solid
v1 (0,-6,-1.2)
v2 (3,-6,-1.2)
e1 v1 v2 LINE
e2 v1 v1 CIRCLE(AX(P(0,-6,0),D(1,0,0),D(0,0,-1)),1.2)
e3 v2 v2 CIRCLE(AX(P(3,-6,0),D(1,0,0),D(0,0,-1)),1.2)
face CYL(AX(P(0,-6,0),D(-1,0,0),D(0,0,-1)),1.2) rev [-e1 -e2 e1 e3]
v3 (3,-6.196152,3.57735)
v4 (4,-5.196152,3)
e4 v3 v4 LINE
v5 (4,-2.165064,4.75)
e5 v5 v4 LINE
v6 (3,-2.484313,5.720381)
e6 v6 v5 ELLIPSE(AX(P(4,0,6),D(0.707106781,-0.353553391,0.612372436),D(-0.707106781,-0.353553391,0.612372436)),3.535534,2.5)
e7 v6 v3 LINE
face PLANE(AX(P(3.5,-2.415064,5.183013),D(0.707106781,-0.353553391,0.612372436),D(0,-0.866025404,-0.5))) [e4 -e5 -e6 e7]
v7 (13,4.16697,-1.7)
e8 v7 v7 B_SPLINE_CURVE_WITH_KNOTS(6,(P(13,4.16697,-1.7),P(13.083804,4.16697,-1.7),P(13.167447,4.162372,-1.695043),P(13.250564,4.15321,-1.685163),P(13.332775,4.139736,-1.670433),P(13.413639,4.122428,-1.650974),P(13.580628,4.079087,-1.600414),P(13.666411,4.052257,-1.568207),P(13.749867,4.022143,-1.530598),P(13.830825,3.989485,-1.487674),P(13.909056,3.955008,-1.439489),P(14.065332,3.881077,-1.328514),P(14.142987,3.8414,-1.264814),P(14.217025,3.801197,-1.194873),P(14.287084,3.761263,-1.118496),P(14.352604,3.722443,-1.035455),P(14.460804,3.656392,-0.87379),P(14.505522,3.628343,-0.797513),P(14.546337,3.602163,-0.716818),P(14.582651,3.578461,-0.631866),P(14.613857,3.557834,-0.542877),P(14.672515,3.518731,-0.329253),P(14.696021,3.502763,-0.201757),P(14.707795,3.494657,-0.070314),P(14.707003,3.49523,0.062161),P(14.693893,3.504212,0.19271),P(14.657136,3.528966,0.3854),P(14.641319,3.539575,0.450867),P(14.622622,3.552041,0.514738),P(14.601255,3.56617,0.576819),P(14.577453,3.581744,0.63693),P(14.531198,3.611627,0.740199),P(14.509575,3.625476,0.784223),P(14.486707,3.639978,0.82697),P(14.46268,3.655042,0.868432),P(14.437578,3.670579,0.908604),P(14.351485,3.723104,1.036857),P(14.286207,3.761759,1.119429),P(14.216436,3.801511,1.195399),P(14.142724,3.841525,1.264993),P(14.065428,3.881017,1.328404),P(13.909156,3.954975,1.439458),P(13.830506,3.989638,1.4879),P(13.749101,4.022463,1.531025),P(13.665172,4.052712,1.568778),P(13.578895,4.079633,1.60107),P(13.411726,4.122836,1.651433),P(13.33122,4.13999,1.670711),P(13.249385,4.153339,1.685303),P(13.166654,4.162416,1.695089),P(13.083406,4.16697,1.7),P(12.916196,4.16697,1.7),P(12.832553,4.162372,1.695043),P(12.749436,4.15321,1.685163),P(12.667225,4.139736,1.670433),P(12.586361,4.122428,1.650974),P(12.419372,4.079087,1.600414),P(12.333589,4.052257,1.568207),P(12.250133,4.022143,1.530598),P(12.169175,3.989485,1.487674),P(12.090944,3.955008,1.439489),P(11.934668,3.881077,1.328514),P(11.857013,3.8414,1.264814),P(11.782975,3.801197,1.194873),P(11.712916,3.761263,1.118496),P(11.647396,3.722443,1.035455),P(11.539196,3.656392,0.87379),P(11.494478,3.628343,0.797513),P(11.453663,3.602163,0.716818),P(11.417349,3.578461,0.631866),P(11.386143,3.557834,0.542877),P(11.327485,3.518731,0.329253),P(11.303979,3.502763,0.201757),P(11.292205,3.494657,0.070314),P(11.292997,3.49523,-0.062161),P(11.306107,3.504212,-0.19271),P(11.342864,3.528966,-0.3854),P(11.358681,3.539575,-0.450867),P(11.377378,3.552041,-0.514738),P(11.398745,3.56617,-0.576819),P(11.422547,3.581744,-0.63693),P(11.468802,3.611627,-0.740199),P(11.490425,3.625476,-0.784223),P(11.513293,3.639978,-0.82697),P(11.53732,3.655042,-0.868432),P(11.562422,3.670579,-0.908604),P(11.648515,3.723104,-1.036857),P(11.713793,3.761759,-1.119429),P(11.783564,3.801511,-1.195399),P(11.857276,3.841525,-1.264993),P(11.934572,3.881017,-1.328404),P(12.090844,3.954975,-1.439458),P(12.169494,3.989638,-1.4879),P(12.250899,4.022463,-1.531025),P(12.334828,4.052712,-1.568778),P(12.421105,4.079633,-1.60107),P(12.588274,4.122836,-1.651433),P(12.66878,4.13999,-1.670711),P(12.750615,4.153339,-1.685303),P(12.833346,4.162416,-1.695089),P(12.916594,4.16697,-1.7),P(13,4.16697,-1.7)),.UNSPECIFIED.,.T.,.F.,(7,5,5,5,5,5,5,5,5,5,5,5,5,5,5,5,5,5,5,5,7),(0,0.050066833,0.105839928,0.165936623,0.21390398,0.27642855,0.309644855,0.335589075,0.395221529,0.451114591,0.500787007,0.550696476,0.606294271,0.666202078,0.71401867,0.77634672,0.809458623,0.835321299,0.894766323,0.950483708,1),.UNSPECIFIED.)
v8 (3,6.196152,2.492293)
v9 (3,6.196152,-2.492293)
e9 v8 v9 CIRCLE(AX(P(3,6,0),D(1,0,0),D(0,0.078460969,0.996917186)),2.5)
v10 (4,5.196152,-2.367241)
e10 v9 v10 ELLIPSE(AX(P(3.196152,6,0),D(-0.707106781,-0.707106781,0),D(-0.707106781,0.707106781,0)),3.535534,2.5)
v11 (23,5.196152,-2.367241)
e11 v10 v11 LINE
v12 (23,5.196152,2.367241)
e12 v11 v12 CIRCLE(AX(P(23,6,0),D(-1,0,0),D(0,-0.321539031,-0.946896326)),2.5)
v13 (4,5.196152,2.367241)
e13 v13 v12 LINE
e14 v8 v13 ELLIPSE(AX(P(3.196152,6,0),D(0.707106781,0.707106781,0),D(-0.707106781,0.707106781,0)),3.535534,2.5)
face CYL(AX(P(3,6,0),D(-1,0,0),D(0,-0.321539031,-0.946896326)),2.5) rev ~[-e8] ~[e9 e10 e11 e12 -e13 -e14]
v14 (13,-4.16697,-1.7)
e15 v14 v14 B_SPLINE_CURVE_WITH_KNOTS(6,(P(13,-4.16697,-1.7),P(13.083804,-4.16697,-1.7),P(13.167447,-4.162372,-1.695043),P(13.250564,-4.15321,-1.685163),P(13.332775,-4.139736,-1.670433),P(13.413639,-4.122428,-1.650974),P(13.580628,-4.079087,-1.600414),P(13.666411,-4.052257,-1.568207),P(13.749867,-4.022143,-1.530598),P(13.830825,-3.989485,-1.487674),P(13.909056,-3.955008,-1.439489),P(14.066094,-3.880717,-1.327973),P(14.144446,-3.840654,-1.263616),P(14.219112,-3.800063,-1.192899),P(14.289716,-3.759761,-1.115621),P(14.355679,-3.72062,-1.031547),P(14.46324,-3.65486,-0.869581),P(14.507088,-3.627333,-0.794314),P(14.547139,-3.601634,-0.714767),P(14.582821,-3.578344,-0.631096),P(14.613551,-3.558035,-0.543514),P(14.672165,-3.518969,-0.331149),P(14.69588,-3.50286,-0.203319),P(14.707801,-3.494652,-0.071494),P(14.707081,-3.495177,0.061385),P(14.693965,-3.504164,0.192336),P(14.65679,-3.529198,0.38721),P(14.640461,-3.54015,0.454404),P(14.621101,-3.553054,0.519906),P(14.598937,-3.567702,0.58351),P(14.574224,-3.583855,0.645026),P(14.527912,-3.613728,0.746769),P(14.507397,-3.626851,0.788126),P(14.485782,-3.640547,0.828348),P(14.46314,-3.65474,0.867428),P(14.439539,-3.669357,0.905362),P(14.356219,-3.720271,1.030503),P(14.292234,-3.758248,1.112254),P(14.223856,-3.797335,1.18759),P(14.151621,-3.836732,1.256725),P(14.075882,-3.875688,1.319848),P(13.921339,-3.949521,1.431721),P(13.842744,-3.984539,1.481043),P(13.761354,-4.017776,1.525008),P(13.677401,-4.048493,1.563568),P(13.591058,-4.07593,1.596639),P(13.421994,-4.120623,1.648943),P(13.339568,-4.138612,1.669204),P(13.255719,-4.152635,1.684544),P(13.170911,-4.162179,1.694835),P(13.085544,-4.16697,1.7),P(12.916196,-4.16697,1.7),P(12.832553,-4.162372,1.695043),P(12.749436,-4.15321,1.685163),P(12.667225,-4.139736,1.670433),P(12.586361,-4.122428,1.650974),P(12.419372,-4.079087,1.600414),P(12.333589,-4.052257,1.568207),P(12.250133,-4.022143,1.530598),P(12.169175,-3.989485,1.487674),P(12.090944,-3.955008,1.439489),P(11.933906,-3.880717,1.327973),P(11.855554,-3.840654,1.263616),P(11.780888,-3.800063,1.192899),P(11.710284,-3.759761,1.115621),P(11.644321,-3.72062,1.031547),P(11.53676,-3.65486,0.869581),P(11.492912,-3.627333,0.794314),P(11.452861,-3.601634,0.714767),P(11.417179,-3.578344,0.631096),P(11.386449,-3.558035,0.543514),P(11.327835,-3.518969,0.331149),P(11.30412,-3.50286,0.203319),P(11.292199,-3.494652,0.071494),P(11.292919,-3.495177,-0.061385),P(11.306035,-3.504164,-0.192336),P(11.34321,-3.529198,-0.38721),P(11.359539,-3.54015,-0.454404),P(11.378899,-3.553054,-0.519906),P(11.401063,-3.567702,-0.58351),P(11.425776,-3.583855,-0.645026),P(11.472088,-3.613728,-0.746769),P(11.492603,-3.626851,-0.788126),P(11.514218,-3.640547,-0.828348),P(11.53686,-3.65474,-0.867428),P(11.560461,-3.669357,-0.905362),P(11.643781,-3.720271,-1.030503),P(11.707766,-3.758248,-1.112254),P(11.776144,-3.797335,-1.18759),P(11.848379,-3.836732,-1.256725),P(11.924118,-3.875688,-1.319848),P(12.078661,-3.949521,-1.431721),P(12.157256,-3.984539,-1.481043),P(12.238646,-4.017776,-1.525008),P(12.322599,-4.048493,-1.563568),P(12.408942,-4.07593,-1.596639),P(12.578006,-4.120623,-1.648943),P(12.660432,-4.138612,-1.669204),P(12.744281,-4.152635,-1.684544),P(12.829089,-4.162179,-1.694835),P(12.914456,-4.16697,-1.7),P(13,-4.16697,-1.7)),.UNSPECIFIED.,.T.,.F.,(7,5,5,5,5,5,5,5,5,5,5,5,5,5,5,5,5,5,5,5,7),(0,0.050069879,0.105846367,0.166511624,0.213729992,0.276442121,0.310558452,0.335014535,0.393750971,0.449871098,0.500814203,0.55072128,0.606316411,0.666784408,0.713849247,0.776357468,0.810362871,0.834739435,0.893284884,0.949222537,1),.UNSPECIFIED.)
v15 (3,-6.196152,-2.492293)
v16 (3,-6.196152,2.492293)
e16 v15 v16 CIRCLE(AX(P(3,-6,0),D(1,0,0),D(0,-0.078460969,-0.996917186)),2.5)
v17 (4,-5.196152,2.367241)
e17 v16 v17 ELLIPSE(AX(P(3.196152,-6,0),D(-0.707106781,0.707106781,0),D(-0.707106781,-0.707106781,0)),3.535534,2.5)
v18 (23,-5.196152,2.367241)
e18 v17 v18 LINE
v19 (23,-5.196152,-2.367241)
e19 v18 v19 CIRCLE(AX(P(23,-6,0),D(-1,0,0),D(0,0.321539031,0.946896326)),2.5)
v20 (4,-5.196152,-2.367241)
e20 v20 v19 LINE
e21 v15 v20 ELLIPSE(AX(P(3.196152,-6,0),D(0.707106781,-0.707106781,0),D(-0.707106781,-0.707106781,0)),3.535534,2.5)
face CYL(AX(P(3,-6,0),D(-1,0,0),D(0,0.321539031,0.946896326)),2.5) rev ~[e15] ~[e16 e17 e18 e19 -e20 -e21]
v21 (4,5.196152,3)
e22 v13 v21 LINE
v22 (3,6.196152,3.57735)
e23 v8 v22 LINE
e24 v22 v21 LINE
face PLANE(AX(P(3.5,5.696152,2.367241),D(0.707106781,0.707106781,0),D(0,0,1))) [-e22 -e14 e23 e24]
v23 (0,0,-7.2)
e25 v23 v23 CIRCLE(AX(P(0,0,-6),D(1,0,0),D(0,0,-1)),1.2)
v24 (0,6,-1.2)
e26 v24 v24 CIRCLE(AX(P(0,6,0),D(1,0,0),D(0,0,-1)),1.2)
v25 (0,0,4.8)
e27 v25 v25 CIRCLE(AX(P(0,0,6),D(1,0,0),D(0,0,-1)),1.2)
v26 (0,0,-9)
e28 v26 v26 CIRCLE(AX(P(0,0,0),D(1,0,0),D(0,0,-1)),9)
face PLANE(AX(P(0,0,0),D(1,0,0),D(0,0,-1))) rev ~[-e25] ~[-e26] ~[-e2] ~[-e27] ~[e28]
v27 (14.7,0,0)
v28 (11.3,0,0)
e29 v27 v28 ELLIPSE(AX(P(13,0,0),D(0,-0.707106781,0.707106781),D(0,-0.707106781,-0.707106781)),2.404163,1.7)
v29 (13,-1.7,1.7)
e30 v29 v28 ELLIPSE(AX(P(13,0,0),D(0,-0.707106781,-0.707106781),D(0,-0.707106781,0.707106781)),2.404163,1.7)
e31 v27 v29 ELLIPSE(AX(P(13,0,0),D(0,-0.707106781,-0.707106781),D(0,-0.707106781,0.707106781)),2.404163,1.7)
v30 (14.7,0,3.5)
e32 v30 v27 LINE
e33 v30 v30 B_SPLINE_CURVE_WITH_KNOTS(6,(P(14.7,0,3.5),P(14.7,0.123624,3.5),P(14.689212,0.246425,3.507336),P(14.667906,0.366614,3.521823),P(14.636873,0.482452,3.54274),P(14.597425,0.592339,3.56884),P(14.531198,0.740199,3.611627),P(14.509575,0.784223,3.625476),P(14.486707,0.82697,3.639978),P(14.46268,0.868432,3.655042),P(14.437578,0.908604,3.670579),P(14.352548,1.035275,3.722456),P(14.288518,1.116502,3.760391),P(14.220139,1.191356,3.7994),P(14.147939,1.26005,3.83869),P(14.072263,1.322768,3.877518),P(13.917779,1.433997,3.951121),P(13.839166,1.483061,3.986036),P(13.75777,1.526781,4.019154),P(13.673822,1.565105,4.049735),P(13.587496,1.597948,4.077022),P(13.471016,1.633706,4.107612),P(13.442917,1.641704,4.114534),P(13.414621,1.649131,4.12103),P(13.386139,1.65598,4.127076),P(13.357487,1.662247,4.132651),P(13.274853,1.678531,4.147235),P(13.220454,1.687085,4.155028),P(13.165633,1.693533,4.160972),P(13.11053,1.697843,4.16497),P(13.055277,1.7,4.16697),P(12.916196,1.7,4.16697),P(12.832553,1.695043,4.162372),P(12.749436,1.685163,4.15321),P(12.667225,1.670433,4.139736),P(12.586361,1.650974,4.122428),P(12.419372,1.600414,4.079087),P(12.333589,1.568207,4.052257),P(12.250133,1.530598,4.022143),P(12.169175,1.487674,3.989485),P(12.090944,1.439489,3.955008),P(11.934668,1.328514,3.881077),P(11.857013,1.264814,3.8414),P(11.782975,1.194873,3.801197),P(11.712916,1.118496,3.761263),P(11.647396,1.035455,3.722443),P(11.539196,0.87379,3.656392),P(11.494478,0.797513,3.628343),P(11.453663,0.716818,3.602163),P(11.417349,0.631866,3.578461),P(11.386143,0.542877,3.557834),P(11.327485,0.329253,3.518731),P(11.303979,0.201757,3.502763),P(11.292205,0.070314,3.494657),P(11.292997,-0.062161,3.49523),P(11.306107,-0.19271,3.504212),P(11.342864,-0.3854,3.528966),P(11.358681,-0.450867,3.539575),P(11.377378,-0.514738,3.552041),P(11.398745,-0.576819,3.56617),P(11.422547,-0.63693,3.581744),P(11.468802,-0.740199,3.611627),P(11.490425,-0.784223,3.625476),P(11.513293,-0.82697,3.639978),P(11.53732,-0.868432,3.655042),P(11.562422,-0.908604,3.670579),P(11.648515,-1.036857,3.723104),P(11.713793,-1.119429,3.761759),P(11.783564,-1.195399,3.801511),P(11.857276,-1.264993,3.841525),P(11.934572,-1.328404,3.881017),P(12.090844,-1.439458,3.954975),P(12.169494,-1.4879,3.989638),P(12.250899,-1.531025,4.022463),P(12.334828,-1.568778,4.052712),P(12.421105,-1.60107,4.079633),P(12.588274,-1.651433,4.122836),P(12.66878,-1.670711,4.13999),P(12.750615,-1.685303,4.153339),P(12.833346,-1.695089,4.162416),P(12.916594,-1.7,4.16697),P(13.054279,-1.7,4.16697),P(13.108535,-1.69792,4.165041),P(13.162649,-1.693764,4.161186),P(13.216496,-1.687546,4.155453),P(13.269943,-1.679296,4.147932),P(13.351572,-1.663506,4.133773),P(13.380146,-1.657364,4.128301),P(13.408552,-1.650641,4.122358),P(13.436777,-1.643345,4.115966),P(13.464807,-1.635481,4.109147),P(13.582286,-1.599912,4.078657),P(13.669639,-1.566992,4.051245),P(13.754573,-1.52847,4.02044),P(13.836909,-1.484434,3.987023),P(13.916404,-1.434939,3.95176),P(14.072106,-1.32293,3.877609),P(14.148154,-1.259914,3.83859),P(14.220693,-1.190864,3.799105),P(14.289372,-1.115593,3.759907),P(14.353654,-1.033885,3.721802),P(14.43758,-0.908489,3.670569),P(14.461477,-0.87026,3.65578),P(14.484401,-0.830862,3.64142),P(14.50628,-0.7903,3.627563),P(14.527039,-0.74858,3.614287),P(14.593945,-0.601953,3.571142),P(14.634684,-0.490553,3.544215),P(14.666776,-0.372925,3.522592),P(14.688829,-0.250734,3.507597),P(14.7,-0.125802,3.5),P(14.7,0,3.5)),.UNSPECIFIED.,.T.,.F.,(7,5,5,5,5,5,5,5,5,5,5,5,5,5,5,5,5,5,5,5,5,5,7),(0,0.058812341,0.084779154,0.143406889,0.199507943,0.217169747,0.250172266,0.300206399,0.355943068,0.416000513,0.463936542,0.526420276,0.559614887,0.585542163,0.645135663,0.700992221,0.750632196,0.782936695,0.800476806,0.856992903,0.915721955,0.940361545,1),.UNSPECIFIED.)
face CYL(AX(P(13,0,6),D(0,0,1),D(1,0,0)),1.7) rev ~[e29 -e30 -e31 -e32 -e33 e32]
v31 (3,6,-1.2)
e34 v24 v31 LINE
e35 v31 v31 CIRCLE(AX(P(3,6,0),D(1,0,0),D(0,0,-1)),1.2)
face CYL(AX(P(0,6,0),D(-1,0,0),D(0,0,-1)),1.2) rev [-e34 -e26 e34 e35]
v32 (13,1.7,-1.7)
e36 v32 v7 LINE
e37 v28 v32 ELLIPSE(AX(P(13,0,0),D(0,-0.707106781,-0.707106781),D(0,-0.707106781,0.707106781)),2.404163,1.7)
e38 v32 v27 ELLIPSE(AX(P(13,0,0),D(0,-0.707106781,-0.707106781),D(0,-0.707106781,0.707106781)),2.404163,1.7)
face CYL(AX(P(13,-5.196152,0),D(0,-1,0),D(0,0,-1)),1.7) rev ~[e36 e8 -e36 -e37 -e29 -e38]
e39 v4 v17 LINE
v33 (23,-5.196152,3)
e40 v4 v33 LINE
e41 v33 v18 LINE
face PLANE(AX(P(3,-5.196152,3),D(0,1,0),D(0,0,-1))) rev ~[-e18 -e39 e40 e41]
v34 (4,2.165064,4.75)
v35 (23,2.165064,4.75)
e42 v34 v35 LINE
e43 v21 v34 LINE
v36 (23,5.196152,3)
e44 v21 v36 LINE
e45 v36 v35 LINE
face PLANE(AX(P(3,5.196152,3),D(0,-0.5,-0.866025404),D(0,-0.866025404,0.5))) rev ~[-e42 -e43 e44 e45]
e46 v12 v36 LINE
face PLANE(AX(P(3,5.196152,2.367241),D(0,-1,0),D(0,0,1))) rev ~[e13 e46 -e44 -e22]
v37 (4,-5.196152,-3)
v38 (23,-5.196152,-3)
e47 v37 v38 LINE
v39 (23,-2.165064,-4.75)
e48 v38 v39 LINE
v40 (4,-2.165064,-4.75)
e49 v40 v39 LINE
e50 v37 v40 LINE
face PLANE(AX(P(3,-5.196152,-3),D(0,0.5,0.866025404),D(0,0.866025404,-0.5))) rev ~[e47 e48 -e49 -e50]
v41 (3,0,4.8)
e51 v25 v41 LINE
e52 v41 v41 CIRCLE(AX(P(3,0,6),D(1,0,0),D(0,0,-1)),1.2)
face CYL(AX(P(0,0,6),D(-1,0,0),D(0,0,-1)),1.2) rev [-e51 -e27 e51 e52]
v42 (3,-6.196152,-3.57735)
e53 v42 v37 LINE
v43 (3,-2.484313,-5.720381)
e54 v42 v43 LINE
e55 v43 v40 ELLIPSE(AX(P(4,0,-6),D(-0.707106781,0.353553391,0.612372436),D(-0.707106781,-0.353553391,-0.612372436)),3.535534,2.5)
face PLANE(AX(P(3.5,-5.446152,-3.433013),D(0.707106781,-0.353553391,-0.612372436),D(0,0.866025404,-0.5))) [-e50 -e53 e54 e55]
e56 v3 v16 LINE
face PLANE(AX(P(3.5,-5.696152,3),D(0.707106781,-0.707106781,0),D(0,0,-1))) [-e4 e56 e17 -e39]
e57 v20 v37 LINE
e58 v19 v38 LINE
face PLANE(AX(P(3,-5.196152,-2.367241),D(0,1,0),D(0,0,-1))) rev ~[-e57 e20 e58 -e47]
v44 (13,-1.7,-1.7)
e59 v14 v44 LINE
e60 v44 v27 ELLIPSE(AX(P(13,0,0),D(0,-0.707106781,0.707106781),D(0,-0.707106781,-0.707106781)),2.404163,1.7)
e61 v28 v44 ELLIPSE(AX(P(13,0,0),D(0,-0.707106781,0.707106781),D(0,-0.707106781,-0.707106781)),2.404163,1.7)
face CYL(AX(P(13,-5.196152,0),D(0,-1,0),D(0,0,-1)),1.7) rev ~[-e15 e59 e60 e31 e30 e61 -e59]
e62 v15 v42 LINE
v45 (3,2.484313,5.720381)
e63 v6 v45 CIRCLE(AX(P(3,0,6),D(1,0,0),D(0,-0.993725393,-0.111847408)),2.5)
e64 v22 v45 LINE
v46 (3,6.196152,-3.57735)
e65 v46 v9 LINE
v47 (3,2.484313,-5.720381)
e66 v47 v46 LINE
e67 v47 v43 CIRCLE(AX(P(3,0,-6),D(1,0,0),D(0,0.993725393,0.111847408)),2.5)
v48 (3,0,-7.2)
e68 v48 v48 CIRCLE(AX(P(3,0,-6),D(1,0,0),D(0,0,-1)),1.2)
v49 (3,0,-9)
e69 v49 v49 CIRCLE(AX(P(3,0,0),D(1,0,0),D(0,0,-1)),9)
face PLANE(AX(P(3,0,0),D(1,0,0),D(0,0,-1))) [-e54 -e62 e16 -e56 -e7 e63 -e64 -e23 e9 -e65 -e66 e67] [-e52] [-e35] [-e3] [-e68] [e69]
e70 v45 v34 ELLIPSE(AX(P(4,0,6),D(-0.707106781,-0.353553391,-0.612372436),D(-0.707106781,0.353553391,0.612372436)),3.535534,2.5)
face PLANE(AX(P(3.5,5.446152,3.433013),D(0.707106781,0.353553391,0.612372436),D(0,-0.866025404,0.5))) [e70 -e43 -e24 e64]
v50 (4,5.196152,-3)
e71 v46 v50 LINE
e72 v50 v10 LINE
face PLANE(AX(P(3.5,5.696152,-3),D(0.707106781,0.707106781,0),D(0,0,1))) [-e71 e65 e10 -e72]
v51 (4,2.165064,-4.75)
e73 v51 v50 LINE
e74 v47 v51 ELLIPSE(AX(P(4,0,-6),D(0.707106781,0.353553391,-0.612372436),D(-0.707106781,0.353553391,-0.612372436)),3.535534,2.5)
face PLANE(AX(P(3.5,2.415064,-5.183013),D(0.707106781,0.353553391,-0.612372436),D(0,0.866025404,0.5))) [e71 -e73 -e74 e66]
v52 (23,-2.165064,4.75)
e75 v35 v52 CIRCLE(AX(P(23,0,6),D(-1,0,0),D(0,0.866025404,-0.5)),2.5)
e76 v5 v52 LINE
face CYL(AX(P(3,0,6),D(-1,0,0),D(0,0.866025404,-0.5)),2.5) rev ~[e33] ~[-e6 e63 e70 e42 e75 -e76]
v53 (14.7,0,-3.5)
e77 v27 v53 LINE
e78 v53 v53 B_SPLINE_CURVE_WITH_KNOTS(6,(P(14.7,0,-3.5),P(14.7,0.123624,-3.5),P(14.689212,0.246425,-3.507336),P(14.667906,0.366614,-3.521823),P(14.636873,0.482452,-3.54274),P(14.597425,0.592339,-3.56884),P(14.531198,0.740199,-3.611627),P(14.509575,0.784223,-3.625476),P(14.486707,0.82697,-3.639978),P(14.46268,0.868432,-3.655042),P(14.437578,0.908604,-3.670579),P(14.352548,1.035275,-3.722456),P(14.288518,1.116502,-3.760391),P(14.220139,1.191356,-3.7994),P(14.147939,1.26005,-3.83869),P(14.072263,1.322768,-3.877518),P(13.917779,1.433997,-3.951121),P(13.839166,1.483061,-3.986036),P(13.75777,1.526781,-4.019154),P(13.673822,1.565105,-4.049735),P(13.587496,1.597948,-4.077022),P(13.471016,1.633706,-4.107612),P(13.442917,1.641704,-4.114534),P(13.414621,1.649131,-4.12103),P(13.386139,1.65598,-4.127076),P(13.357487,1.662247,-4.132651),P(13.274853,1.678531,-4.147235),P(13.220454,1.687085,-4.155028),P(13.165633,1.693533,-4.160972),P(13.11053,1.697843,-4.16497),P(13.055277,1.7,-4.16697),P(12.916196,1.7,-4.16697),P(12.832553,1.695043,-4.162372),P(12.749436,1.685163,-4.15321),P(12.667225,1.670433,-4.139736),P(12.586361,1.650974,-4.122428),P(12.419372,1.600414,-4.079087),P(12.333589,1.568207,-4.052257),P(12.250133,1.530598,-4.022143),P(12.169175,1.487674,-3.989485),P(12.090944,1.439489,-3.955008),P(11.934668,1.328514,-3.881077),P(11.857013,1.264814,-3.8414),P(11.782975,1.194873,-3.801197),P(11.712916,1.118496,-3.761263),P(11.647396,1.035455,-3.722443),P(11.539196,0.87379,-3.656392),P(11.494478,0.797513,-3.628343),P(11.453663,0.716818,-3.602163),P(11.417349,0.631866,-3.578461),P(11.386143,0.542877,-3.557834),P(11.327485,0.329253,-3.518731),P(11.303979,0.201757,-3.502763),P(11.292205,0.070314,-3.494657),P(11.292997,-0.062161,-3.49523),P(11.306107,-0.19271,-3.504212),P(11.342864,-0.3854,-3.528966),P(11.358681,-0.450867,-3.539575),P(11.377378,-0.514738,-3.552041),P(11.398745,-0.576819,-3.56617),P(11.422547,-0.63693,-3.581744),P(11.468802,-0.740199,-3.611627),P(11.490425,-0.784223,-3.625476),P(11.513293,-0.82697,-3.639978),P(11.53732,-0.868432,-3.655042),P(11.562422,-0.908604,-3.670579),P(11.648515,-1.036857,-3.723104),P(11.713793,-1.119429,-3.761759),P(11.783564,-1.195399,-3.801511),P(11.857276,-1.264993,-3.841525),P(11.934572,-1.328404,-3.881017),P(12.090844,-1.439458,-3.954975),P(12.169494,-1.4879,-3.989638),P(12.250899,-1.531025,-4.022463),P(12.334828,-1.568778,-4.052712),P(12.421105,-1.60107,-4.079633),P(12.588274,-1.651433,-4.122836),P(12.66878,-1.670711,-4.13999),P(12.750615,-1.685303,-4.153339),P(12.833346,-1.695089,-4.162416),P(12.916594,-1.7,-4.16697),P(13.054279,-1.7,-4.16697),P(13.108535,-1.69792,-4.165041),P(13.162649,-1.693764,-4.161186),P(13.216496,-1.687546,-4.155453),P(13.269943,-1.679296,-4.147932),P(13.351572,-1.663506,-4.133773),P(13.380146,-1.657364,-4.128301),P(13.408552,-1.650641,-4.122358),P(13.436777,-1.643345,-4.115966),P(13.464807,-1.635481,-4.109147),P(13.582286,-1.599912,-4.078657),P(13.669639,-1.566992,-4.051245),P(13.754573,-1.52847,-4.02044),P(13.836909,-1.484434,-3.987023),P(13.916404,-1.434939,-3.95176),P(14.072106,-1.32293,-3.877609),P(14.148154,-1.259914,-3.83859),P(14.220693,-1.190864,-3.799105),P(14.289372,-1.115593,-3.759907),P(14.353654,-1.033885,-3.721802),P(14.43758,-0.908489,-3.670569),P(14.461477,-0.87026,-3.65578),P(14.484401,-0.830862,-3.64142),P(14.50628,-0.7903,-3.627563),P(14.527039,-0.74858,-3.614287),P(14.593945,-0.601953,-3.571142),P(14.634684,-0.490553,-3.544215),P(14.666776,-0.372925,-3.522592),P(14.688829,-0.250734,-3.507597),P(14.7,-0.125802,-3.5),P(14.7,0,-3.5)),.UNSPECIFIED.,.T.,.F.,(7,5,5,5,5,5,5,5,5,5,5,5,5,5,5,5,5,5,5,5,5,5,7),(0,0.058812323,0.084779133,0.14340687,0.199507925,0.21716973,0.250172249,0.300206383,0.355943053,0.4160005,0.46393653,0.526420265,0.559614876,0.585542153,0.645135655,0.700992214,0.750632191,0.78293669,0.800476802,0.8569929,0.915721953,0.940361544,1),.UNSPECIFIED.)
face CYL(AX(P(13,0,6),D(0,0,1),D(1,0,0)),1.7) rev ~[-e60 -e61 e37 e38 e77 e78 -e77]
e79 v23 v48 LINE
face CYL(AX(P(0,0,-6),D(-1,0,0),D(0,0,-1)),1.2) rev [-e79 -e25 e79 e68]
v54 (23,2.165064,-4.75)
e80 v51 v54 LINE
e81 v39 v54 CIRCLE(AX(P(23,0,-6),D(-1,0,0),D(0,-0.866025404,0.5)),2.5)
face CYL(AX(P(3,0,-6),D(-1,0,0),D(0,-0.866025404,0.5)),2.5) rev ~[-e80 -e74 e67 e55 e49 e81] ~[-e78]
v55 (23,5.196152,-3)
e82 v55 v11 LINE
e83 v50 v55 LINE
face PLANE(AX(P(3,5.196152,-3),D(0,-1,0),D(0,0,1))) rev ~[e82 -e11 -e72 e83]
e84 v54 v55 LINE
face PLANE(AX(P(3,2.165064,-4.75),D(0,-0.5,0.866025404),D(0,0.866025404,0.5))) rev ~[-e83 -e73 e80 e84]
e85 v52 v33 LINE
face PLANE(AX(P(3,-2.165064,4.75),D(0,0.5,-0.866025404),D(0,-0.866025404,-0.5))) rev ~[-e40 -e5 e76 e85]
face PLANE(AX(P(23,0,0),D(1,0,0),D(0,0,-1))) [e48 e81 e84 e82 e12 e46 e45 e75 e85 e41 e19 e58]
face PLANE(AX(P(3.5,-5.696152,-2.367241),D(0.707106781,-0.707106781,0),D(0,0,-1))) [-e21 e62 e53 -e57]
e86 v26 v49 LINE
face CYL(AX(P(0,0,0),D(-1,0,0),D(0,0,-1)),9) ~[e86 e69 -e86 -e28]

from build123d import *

# Parameters (mm, degrees)
SKETCH1_R           = 9
SKETCH1_R_2         = 1.2
BOSS_EXTRUDE1_DEPTH = 3
BOSS_EXTRUDE2_DEPTH = 20
CHAMFER1_SIZE       = 1
SKETCH4_R           = 1.7
CUT_EXTRUDE1_DEPTH  = 29.487378672
SKETCH5_R           = 1.7
CUT_EXTRUDE2_DEPTH  = 29.896366633


with BuildPart() as part:
    # Sketch1 → Boss-Extrude1 (new body)
    with BuildSketch(Plane(origin=(0, 0, 0), x_dir=(0, 0, -1), z_dir=(1, 0, 0))):
        Circle(SKETCH1_R)
        with Locations((0, 6)):
            Circle(SKETCH1_R_2, mode=Mode.SUBTRACT)
        with Locations((6, 0)):
            Circle(SKETCH1_R_2, mode=Mode.SUBTRACT)
        with Locations((-6, 0)):
            Circle(SKETCH1_R_2, mode=Mode.SUBTRACT)
        with Locations((0, -6)):
            Circle(SKETCH1_R_2, mode=Mode.SUBTRACT)
    extrude(amount=BOSS_EXTRUDE1_DEPTH)

    # Sketch2 → Boss-Extrude2 (add)
    with BuildSketch(Plane(origin=(3, 0, 0), x_dir=(0, 0, -1), z_dir=(1, 0, 0))):
        with BuildLine():
            Line((2.367240814, -5.196152423), (3, -5.196152423))
            Line((3, -5.196152423), (4.75, -2.165063509))
            ThreePointArc((4.75, -2.165063509), (3.5, 0), (4.75, 2.165063509))
            Line((4.75, 2.165063509), (3, 5.196152423))
            Line((3, 5.196152423), (2.367240814, 5.196152423))
            ThreePointArc((2.367240814, 5.196152423), (0, 3.5), (-2.367240814, 5.196152423))
            Line((-2.367240814, 5.196152423), (-3, 5.196152423))
            Line((-3, 5.196152423), (-4.75, 2.165063509))
            ThreePointArc((-4.75, 2.165063509), (-3.5, 0), (-4.75, -2.165063509))
            Line((-4.75, -2.165063509), (-3, -5.196152423))
            Line((-3, -5.196152423), (-2.367240814, -5.196152423))
            ThreePointArc((-2.367240814, -5.196152423), (0, -3.5), (2.367240814, -5.196152423))
        make_face()
    extrude(amount=BOSS_EXTRUDE2_DEPTH)

    # Chamfer1
    chamfer1_edges = [part.edges().sort_by_distance(p)[0] for p in [
        (3, -3.680607966, 3.875),
        (3, -5.196152423, 2.683620407),
        (3, -5.196152423, -2.683620407),
        (3, -3.680607966, -3.875),
        (3, 3.680607966, -3.875),
        (3, 5.196152423, -2.683620407),
        (3, 3.680607966, 3.875),
        (3, 5.196152423, 2.683620407),
    ]]
    chamfer(chamfer1_edges, length=CHAMFER1_SIZE)

    # Sketch4 → Cut-Extrude1 (cut, through all)
    with BuildSketch(Plane.XZ.offset(5.196152423)):
        with Locations((13, 0)):
            Circle(SKETCH4_R)
    extrude(amount=-CUT_EXTRUDE1_DEPTH, mode=Mode.SUBTRACT)

    # Sketch5 → Cut-Extrude2 (cut, through all)
    with BuildSketch(Plane.XY.offset(6)):
        with Locations((13, 0)):
            Circle(SKETCH5_R)
    extrude(amount=-CUT_EXTRUDE2_DEPTH, mode=Mode.SUBTRACT)


solid = part.part
